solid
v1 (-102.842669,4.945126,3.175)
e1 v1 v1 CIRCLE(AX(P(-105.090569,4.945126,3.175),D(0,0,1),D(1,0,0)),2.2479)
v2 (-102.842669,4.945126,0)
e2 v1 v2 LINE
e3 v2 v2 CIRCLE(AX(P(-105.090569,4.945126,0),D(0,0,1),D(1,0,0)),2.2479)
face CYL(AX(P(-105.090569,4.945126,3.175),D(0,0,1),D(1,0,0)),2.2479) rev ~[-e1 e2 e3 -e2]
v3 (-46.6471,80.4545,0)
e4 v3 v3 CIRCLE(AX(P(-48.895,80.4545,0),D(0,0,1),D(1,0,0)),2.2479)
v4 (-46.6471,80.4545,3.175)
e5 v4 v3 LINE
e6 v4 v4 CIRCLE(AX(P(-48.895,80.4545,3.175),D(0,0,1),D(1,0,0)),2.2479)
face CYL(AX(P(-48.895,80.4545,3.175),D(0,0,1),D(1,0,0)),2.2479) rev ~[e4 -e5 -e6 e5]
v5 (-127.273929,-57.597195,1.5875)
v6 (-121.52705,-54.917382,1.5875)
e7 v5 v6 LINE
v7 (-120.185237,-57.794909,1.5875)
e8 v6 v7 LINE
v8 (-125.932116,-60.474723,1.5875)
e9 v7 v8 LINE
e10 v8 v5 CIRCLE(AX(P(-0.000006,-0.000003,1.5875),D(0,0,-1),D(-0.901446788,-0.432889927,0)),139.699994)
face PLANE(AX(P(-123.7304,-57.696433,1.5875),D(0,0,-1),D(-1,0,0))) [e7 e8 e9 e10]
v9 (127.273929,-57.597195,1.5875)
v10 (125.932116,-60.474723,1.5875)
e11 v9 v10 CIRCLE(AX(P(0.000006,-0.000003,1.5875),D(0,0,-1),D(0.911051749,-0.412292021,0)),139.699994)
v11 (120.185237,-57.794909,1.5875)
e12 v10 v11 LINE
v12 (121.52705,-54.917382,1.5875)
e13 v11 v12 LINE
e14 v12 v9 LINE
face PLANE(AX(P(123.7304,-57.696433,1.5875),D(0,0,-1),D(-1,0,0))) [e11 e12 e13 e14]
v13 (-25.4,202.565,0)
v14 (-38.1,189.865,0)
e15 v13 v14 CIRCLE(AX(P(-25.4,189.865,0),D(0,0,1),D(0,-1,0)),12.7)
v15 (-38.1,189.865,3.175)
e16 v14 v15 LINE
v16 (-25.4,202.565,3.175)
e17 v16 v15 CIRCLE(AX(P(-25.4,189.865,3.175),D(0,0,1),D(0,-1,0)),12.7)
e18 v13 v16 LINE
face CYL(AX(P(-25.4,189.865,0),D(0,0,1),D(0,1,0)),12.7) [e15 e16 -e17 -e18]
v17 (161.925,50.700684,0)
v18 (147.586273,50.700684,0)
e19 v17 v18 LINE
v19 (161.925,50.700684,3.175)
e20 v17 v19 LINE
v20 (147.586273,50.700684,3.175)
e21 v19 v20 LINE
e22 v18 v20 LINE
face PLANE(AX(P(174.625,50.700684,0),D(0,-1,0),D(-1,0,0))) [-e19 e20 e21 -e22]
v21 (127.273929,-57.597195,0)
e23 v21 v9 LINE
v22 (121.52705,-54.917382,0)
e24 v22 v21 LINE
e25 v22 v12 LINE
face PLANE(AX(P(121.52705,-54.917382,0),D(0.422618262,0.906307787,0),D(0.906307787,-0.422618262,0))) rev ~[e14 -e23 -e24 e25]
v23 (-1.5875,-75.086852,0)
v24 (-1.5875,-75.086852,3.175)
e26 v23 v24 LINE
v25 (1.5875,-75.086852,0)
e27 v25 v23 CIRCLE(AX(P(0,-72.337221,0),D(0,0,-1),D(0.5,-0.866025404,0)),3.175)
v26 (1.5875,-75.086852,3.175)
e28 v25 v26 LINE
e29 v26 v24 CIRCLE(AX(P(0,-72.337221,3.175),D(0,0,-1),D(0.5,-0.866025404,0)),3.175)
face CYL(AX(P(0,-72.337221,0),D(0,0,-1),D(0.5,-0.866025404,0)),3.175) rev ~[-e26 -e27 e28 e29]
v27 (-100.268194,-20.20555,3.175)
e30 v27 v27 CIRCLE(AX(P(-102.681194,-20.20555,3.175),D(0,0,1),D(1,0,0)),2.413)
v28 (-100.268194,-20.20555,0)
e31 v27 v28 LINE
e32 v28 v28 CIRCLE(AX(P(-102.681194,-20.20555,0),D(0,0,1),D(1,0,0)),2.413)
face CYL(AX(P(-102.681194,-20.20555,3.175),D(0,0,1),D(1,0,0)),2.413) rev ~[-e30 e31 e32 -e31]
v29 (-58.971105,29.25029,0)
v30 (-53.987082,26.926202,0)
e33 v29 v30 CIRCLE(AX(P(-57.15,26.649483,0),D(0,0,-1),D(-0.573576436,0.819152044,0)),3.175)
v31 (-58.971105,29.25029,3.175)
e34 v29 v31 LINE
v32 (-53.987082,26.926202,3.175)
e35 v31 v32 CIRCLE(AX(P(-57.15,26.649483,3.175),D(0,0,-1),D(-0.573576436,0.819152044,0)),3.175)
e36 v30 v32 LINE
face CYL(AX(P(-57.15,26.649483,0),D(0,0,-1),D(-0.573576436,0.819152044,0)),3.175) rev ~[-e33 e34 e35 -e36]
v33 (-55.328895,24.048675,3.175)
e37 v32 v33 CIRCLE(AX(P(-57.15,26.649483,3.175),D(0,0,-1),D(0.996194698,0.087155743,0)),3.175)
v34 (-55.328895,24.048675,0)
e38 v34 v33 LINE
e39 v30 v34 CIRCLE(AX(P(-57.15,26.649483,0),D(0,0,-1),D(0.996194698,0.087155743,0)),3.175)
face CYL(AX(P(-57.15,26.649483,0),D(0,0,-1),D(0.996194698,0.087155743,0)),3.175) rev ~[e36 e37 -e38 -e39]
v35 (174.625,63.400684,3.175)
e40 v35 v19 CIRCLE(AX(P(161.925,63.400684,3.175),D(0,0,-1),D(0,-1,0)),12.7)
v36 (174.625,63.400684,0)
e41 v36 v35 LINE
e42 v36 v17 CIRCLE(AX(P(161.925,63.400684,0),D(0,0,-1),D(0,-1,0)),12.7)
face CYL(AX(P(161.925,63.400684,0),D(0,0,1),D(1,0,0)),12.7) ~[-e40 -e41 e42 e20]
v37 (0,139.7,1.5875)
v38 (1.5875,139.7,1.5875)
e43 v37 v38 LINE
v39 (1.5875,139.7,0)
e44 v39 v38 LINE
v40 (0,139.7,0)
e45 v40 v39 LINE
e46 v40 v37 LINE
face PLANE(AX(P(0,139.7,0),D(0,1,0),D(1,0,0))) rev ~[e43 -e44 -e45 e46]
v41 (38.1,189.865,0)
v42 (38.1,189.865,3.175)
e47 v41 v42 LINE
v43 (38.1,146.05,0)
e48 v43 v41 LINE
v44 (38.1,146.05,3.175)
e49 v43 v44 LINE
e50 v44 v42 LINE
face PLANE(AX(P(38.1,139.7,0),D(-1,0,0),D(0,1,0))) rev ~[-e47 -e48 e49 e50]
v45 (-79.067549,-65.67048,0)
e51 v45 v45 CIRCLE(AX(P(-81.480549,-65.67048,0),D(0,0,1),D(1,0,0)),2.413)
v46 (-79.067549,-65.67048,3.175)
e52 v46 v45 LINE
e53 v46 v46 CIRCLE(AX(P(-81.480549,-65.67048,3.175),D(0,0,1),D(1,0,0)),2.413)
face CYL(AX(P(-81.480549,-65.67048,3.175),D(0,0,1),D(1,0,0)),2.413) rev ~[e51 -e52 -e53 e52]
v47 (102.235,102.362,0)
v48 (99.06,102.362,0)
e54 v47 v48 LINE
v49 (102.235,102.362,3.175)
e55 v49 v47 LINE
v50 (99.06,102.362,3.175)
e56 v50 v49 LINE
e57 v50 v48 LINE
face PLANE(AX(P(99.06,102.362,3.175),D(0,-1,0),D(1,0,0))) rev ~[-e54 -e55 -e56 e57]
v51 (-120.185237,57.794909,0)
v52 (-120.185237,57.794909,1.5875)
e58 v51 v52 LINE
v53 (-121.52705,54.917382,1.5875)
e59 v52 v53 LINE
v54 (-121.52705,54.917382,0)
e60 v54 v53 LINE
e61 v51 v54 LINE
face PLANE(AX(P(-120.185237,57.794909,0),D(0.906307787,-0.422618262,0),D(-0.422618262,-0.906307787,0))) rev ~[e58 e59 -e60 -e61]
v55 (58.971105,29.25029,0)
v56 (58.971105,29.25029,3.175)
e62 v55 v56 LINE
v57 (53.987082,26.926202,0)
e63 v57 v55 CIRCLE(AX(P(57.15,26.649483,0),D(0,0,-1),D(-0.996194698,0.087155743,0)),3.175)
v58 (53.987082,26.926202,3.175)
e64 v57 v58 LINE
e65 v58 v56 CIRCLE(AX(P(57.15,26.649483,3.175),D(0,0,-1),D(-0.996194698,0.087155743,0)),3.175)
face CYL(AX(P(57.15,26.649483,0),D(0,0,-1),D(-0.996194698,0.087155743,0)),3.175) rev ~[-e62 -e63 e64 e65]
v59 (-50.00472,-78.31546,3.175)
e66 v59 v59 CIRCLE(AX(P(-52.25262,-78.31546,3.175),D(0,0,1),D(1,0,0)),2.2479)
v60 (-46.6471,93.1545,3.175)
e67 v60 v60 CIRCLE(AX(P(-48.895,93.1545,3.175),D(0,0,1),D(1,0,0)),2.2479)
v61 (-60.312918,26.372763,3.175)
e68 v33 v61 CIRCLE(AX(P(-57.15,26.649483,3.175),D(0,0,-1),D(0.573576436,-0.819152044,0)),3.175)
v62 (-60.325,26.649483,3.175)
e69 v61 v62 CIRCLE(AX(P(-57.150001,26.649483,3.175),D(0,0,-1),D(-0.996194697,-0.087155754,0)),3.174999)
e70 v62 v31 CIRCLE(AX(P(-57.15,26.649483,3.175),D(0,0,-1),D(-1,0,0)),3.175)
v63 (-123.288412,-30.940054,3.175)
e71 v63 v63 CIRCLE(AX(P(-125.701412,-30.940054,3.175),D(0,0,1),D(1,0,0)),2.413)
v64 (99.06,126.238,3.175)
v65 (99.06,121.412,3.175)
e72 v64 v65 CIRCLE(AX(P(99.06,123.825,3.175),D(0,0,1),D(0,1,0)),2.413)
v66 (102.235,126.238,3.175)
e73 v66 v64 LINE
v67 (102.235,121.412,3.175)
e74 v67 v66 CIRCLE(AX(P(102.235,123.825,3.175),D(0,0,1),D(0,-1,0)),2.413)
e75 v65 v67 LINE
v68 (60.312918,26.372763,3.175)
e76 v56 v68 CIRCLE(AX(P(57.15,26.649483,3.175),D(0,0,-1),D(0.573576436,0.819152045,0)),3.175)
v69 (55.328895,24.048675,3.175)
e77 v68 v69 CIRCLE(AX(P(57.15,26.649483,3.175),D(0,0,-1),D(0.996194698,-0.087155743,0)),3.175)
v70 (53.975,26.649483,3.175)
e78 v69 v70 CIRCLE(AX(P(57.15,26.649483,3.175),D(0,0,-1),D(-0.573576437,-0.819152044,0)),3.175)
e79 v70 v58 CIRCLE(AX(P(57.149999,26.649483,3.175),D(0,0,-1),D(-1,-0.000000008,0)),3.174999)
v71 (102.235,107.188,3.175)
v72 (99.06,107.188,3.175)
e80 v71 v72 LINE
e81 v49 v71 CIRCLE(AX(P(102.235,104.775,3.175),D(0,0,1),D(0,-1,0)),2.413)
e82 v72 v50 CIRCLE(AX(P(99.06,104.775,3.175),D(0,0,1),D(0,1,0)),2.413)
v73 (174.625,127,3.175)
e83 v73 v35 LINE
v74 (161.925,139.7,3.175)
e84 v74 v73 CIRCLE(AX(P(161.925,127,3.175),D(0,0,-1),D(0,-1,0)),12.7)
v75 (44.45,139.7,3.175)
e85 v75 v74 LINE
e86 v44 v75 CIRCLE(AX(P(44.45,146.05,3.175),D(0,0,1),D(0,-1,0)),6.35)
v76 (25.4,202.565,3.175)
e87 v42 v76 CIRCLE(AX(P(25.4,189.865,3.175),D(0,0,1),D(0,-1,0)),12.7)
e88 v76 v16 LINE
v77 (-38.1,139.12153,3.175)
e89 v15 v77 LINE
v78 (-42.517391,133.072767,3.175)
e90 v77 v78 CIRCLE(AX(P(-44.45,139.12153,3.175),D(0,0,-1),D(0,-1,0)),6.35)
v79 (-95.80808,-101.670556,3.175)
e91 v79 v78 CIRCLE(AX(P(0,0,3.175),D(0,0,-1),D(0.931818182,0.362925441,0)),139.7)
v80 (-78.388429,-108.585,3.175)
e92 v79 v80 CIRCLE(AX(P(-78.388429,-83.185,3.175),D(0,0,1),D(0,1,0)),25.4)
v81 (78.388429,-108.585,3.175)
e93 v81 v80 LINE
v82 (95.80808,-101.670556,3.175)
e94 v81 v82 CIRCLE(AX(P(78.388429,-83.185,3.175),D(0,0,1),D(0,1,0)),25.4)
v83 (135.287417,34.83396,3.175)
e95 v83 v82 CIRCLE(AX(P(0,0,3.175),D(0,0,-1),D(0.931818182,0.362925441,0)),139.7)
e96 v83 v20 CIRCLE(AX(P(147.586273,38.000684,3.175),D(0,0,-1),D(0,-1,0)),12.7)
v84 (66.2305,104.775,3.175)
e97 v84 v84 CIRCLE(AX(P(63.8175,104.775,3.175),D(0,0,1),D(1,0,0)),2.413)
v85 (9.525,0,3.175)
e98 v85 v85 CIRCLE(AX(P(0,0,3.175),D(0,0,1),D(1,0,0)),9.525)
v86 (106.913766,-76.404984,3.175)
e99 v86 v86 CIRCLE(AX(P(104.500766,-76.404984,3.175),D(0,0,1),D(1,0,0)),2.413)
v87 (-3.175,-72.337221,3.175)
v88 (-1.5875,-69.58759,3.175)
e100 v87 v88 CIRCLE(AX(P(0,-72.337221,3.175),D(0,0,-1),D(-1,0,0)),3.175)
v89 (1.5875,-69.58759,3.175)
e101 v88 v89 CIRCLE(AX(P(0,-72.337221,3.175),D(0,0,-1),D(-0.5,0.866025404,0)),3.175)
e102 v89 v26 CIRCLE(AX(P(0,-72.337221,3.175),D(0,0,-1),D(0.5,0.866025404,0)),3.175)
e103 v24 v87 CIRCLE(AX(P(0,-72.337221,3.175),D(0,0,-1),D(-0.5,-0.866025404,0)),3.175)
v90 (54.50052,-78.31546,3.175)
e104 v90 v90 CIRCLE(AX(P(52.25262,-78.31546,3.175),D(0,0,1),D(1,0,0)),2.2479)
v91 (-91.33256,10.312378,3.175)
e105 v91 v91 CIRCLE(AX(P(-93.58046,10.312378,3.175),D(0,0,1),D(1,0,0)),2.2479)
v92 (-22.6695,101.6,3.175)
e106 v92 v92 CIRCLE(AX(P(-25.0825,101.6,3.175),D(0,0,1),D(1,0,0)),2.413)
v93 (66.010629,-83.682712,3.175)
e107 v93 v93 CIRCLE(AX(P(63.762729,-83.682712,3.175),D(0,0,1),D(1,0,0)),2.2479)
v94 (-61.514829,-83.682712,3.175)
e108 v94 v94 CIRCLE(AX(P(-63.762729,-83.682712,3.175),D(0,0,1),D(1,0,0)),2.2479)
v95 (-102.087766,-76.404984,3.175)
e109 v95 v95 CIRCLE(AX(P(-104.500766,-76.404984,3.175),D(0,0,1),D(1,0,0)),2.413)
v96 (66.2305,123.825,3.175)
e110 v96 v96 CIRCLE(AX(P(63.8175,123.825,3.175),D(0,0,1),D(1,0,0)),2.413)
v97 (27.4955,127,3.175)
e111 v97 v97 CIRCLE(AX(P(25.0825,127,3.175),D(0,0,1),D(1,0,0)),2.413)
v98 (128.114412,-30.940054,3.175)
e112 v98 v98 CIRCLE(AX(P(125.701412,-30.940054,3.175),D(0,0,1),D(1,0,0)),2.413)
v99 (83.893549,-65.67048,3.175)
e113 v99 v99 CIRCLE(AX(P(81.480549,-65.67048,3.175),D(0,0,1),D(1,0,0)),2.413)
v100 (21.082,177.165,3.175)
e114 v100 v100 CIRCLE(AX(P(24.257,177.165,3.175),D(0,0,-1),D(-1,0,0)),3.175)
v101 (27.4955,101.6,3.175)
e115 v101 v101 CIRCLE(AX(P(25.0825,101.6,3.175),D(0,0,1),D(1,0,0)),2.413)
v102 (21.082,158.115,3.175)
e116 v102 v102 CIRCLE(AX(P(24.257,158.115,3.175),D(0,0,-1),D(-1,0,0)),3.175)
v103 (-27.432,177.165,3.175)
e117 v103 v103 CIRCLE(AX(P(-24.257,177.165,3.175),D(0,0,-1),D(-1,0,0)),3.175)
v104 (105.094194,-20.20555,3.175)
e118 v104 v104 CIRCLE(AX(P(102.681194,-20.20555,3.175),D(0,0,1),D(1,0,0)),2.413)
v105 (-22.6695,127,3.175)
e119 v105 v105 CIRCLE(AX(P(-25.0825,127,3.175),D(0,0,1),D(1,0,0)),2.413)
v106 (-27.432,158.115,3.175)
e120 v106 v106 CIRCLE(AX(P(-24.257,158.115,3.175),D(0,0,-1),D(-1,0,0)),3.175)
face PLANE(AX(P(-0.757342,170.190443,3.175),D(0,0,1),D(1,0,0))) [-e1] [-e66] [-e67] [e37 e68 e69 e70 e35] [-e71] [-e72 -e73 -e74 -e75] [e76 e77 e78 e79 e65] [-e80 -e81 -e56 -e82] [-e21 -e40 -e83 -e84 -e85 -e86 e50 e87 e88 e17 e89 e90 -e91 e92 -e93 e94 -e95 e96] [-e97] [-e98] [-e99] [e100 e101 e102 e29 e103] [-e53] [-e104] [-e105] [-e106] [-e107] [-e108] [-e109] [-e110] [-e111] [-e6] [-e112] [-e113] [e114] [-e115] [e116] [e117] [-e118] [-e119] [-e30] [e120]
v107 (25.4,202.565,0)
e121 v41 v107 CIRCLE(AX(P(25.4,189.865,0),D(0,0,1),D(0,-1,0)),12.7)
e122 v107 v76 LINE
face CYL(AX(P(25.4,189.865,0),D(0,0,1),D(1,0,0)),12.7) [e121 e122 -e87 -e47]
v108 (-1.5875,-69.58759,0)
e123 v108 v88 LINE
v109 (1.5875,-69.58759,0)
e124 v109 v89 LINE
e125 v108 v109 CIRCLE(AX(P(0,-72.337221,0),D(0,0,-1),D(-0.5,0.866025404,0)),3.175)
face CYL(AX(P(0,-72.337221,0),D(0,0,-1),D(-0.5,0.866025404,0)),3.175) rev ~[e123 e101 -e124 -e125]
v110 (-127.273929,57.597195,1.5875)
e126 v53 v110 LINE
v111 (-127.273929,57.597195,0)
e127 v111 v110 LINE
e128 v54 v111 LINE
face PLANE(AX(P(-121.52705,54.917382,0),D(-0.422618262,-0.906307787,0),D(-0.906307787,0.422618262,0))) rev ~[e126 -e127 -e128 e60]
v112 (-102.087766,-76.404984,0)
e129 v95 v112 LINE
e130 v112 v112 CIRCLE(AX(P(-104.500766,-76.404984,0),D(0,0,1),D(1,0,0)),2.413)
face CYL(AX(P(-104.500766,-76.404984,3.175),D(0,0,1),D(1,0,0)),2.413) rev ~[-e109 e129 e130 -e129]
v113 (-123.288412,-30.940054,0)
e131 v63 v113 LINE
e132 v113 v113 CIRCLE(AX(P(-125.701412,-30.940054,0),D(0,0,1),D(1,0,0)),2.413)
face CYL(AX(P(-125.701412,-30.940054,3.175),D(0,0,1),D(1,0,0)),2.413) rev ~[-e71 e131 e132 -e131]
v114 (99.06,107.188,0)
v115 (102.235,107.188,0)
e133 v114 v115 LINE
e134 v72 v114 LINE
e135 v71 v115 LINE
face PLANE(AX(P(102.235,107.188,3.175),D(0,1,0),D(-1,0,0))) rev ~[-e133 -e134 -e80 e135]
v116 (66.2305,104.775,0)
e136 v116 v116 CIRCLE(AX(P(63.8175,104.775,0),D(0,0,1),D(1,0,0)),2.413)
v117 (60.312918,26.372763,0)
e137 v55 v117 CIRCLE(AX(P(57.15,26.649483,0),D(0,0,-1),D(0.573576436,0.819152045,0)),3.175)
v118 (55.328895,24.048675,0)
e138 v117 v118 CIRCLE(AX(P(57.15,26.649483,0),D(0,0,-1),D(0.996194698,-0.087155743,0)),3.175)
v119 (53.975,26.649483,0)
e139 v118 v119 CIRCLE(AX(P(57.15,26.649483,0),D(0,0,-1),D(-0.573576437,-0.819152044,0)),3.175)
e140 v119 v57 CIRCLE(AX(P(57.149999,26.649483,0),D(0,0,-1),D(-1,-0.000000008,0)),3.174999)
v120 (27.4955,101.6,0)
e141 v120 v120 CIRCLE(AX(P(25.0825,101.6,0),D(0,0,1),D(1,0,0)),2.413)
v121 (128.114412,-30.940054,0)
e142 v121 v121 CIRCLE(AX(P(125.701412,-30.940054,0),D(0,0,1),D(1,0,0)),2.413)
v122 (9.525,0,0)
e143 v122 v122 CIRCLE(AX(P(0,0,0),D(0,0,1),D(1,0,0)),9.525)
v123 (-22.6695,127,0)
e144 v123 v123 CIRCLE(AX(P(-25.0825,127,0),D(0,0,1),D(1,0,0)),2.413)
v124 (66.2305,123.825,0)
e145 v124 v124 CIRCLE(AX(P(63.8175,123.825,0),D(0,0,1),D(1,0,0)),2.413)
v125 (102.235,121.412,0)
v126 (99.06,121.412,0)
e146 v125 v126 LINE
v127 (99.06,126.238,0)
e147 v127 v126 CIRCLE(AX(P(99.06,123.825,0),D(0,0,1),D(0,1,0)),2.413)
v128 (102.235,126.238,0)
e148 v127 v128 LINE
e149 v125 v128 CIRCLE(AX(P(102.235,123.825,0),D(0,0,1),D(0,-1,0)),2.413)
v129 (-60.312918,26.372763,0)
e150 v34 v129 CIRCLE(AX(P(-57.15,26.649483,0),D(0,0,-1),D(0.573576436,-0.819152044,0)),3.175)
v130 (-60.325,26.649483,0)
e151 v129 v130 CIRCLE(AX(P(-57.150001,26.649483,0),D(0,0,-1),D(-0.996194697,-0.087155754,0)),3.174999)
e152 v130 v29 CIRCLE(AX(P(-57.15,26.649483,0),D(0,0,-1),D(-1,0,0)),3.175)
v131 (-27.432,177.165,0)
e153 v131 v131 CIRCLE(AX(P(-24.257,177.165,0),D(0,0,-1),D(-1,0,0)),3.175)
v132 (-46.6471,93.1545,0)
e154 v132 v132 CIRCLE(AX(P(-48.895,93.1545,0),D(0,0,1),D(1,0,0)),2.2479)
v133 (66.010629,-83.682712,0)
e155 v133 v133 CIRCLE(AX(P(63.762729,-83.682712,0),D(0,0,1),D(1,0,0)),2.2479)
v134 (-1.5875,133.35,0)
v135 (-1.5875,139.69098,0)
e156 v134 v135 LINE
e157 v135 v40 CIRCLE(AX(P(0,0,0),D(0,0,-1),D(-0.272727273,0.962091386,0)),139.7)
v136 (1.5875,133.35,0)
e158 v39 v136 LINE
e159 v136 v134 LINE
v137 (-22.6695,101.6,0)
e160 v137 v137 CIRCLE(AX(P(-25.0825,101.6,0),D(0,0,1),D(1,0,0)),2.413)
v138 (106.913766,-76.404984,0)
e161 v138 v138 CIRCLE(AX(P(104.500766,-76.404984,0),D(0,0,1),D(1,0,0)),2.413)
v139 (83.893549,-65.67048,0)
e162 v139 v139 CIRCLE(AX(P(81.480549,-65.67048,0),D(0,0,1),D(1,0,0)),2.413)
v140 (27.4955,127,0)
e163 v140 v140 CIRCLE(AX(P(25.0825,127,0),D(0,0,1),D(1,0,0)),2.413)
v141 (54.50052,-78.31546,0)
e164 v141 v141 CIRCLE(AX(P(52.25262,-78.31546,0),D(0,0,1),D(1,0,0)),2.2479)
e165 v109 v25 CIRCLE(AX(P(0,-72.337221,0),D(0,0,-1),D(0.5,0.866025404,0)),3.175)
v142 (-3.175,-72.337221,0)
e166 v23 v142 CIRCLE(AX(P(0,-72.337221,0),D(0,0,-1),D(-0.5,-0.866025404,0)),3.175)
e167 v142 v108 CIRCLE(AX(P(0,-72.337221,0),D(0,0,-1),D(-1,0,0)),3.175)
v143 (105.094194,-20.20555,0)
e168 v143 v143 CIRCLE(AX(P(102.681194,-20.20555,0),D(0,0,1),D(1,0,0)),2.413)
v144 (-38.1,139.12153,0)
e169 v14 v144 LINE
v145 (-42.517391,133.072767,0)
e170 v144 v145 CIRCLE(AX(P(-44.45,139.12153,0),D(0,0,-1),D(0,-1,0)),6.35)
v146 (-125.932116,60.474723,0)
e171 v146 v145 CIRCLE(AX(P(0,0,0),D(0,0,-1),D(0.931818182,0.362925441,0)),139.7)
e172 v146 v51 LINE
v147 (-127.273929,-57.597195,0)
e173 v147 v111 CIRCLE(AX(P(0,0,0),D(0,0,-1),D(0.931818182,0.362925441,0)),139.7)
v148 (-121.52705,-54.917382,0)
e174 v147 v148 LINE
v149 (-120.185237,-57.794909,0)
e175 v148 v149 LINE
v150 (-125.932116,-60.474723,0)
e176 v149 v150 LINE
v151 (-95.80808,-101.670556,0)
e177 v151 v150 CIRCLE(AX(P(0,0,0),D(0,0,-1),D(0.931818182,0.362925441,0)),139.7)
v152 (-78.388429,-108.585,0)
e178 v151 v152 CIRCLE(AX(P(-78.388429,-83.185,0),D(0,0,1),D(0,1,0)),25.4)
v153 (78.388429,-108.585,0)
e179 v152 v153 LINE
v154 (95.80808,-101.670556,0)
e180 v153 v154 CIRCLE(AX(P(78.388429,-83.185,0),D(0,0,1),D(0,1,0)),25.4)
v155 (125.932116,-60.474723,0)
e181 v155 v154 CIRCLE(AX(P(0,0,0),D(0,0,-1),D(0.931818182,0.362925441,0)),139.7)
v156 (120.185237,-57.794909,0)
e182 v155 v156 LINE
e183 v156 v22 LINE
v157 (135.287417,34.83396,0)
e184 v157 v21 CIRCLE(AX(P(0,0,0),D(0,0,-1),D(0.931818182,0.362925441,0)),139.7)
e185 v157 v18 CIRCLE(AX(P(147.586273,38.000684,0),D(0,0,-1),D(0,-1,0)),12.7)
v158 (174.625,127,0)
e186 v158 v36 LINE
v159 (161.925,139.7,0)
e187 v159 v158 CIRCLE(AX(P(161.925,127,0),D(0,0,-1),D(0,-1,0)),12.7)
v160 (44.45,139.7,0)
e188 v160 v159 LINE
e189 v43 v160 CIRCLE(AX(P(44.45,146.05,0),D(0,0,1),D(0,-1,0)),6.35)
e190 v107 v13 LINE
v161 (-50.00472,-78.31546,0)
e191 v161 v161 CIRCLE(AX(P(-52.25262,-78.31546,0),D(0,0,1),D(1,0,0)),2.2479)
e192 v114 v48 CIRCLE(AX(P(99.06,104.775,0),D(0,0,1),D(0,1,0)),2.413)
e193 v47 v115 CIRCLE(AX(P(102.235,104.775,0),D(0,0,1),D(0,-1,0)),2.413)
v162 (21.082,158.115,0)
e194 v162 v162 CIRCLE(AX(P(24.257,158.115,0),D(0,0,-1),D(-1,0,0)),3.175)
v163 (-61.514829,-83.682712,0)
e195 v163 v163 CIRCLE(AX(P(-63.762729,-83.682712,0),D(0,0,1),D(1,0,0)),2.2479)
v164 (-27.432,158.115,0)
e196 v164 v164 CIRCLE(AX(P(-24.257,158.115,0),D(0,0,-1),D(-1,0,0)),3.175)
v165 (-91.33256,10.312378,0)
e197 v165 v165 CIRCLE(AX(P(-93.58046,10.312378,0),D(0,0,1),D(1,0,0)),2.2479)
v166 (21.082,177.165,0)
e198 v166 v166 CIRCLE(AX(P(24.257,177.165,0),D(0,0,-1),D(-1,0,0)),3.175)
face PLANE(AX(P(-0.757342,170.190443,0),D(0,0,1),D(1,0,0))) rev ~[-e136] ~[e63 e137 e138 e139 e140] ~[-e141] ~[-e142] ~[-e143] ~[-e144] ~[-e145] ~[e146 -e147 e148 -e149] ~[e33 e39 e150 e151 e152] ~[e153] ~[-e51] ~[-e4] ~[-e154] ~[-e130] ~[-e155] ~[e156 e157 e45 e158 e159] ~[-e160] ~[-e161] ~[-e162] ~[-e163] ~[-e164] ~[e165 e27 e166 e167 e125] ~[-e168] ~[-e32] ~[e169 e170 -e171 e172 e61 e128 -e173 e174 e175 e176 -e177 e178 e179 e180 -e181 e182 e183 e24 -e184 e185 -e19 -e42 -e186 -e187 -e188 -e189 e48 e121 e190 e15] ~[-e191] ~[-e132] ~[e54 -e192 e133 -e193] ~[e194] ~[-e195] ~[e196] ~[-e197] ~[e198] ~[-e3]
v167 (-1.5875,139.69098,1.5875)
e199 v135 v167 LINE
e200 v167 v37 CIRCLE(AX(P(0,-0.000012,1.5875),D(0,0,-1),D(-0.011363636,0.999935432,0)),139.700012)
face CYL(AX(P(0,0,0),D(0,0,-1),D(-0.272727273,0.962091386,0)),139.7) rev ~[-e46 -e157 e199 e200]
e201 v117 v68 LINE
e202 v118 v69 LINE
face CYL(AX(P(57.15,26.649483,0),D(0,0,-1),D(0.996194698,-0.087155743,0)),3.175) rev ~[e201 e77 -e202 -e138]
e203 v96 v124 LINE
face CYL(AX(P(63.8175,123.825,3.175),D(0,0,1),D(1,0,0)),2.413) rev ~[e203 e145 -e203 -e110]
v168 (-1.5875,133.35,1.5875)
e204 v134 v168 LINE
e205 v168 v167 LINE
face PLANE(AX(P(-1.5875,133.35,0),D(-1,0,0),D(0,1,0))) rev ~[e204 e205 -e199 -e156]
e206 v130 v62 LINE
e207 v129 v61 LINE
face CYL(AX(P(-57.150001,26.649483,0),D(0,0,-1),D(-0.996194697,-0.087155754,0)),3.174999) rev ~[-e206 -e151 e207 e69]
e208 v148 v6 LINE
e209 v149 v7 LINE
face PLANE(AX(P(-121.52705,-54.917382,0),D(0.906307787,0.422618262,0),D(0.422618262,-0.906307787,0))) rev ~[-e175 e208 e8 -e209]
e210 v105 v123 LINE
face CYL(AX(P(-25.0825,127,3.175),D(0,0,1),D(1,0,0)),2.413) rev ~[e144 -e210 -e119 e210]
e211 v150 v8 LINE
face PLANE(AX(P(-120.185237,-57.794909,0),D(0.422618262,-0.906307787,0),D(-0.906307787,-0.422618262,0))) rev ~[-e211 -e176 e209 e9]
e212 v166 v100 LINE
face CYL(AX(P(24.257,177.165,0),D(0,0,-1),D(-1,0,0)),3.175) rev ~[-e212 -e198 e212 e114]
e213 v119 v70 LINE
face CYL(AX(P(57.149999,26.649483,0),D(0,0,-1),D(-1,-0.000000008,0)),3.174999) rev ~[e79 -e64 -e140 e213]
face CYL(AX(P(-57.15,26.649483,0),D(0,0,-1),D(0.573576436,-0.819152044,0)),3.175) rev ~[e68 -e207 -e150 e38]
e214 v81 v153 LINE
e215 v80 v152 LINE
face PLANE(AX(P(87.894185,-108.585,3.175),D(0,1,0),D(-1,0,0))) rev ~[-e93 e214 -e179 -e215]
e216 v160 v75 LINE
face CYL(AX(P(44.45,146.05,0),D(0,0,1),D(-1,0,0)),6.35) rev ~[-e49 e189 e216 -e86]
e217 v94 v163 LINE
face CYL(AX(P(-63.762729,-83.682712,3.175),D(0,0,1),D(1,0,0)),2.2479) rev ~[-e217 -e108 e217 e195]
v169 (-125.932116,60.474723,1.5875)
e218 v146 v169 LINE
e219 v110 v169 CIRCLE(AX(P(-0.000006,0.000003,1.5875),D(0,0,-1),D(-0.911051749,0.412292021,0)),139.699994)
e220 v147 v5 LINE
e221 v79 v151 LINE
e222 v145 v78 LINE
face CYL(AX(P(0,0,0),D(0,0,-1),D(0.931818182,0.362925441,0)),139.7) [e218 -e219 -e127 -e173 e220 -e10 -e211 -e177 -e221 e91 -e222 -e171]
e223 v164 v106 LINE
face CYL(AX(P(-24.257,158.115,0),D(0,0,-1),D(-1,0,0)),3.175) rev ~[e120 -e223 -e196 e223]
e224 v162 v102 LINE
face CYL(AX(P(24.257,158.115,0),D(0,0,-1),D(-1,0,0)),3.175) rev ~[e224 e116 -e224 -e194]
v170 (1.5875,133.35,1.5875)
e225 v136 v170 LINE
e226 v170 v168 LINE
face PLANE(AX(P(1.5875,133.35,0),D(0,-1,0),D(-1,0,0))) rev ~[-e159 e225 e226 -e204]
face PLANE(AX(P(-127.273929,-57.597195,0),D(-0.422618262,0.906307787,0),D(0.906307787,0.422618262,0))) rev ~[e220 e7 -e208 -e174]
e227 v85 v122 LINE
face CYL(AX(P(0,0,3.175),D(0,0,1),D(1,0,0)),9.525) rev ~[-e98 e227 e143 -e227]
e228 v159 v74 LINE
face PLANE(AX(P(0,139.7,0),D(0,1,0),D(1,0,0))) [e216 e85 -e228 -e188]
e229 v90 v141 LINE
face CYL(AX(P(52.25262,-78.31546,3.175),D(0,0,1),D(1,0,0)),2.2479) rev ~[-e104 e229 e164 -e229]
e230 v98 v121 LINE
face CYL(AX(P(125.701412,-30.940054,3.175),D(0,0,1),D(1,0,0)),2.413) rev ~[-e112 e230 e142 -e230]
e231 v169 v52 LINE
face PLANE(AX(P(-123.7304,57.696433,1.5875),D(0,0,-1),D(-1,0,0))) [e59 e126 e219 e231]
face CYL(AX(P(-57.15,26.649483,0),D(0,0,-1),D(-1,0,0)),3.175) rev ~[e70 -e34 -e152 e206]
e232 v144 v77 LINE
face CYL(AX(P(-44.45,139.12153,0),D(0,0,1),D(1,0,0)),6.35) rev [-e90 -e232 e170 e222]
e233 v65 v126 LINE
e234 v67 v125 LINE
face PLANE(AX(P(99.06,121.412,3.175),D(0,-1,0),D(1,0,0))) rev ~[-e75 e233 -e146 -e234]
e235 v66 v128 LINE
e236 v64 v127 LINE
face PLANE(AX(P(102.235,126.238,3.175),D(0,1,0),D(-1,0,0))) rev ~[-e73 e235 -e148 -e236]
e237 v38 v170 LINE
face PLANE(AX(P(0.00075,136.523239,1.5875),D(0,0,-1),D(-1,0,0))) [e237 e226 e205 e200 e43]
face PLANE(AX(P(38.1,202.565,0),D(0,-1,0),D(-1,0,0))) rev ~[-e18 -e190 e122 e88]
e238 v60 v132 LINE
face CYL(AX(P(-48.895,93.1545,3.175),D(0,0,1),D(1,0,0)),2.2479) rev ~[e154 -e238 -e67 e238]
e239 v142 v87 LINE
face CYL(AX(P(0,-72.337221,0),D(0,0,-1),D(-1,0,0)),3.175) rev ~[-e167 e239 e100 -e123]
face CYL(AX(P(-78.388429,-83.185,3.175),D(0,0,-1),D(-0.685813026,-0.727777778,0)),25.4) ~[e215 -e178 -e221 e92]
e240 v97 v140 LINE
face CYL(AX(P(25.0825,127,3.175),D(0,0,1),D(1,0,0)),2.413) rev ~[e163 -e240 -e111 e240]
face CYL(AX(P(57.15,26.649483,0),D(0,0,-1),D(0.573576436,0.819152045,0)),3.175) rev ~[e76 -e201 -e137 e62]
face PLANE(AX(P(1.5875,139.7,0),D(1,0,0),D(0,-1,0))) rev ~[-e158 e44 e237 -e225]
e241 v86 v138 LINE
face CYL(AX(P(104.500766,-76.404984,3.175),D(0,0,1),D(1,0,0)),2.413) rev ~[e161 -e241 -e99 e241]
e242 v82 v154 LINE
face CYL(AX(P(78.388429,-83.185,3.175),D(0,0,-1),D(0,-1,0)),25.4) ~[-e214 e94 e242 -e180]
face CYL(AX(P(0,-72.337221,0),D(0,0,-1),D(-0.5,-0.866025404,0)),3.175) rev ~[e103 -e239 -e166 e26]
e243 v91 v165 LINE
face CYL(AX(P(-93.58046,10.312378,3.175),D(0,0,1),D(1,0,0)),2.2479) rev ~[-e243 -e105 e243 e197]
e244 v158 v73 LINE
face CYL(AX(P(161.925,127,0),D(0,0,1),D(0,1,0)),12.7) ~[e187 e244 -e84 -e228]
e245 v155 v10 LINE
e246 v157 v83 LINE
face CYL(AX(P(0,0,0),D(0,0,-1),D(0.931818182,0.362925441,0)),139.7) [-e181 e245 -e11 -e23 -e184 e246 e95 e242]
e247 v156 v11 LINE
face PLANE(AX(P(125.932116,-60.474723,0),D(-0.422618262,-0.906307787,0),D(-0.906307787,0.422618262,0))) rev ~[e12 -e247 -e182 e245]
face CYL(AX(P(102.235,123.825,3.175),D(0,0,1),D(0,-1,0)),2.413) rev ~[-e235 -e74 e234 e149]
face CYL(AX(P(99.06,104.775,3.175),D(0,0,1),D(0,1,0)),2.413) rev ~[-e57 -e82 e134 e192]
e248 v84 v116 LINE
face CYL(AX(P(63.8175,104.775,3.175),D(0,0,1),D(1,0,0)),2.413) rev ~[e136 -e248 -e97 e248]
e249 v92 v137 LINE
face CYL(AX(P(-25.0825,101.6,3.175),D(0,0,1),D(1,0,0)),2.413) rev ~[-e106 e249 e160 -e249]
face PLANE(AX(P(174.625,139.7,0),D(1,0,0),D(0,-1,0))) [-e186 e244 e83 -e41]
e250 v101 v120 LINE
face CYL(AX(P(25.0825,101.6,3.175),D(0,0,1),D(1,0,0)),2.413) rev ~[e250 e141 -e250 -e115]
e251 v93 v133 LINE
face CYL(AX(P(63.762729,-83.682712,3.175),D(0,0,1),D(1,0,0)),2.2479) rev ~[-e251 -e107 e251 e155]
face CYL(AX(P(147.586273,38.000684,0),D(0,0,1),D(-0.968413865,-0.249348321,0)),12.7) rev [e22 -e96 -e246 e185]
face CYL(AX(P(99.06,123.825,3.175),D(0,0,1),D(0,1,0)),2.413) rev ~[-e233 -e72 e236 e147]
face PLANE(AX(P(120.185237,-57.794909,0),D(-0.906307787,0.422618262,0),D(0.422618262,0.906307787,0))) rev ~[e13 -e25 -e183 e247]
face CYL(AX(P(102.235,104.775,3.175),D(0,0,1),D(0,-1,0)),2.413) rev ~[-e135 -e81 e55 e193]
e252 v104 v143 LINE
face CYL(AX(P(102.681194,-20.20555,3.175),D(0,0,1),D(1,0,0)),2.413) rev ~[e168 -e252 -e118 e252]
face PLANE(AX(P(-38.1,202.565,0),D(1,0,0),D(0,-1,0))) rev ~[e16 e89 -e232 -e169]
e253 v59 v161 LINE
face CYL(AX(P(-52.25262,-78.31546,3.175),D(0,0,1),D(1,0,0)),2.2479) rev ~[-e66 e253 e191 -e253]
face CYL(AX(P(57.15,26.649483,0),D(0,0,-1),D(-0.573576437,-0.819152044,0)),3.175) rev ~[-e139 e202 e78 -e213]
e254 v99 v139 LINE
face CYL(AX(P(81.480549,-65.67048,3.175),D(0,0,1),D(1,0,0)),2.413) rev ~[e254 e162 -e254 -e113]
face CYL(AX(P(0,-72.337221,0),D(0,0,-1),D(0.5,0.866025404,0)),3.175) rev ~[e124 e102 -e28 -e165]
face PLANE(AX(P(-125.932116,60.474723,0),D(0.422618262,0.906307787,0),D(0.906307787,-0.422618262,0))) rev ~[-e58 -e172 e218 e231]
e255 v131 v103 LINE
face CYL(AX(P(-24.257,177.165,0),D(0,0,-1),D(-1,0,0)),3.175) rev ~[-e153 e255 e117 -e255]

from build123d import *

# Parameters (mm, degrees)
BOSS_EXTRUDE1_DEPTH = 3.175
CUT_EXTRUDE3_DEPTH  = 1.5875
SKETCH3_R           = 9.525
CUT_EXTRUDE4_DEPTH  = 4.175
CUT_EXTRUDE5_DEPTH  = 4.175
SKETCH8_R           = 2.413
CUT_EXTRUDE7_DEPTH  = 4.175
SKETCH9_R           = 2.413
CUT_EXTRUDE8_DEPTH  = 4.175
FILLET1_R           = 12.7
CUT_EXTRUDE9_DEPTH  = 4.175
FILLET2_R           = 25.4
SKETCH11_R          = 2.2479
CUT_EXTRUDE10_DEPTH = 4.175
SKETCH14_R          = 3.175
BOSS_EXTRUDE2_DEPTH = 3.175
FILLET3_R           = 12.7
FILLET4_R           = 6.35


with BuildPart() as part:
    # Sketch1 → Boss-Extrude1 (new body)
    with BuildSketch(Plane.XY):
        with BuildLine():
            Line((0, 139.7), (139.7, 139.7))
            Line((139.7, 139.7), (174.625, 139.7))
            Line((174.625, 139.7), (174.625, 50.700684167))
            Line((174.625, 50.700684167), (130.175, 50.700684167))
            ThreePointArc((130.175, 50.700684167), (-78.845432404, -115.323405209), (0, 139.7))
        make_face()
    extrude(amount=BOSS_EXTRUDE1_DEPTH)

    # Sketch2 → Cut-Extrude3 (cut)
    with BuildSketch(Plane(origin=(0, 0, 0), x_dir=(-1, 0, 0), z_dir=(0, 0, -1))):
        Polygon((-1.5875, -1.011349039), (-1.5875, -2.491875854), (0, -1.751612446), align=None)
        Polygon((-1.5875, -1.011349039), (0, -1.751612446), (1.5875, -1.011349039), (1.5875, 1.011349039), (0, 1.751612446), (-1.5875, 1.011349039), align=None)
        Polygon((1.5875, -1.011349039), (0, -1.751612446), (1.5875, -2.491875854), align=None)
        Polygon((-3.756345013, 0), (-1.5875, -1.011349039), (-1.5875, 1.011349039), align=None)
        Polygon((-1.5875, 2.491875854), (-1.5875, 1.011349039), (0, 1.751612446), align=None)
        Polygon((0, 1.751612446), (1.5875, 1.011349039), (1.5875, 2.491875854), align=None)
        Polygon((1.5875, 1.011349039), (1.5875, -1.011349039), (3.756345013, 0), align=None)
        with BuildLine():
            ThreePointArc((-127.273929282, -57.597195461), (-126.611197849, -59.039771165), (-125.932116301, -60.474722685))
            Line((-125.932116301, -60.474722685), (-120.185236911, -57.794908815))
            Line((-120.185236911, -57.794908815), (-121.527049892, -54.917381591))
            Line((-121.527049892, -54.917381591), (-127.273929282, -57.597195461))
        make_face()
        with BuildLine():
            Line((121.527049892, 54.917381591), (127.273929282, 57.597195461))
            ThreePointArc((127.273929282, 57.597195461), (126.611197849, 59.039771165), (125.932116301, 60.474722685))
            Line((125.932116301, 60.474722685), (120.185236911, 57.794908815))
            Line((120.185236911, 57.794908815), (121.527049892, 54.917381591))
        make_face()
        with BuildLine():
            Line((120.185236911, -57.794908815), (125.932116301, -60.474722685))
            ThreePointArc((125.932116301, -60.474722685), (126.611197849, -59.039771165), (127.273929282, -57.597195461))
            Line((127.273929282, -57.597195461), (121.527049892, -54.917381591))
            Line((121.527049892, -54.917381591), (120.185236911, -57.794908815))
        make_face()
        with BuildLine():
            Line((0, 139.7), (-1.5875, 139.7))
            Line((-1.5875, 139.7), (-1.5875, 133.35))
            Line((-1.5875, 133.35), (1.5875, 133.35))
            Line((1.5875, 133.35), (1.5875, 139.690979822))
            ThreePointArc((1.5875, 139.690979822), (0.793762813, 139.697744937), (0, 139.7))
        make_face()
    extrude(amount=-CUT_EXTRUDE3_DEPTH, mode=Mode.SUBTRACT)

    # Sketch3 → Cut-Extrude4 (cut, through all)
    with BuildSketch(Plane.XY.offset(3.175)):
        Circle(SKETCH3_R)
    extrude(amount=-CUT_EXTRUDE4_DEPTH, mode=Mode.SUBTRACT)

    # Sketch2<4> → Cut-Extrude5 (cut, through all)
    with BuildSketch(Plane(origin=(0, 0, 0), x_dir=(-1, 0, 0), z_dir=(0, 0, -1))):
        with BuildLine():
            Line((-60.312918166, 26.37276318), (-55.328894815, 24.048674923))
            ThreePointArc((-55.328894815, 24.048674923), (-54.333740605, 25.183430817), (-53.975, 26.649482664))
            ThreePointArc((-53.975, 26.649482664), (-53.978021896, 26.787974218), (-53.987081834, 26.926202147))
            Line((-53.987081834, 26.926202147), (-58.971105185, 29.250290404))
            ThreePointArc((-58.971105185, 29.250290404), (-60.027527224, 27.991295645), (-60.312918166, 26.37276318))
        make_face()
        with BuildLine():
            ThreePointArc((-60.312918166, 26.37276318), (-58.491812981, 23.77195544), (-55.328894815, 24.048674923))
            Line((-55.328894815, 24.048674923), (-60.312918166, 26.37276318))
        make_face()
        with BuildLine():
            Line((-58.971105185, 29.250290404), (-53.987081834, 26.926202147))
            ThreePointArc((-53.987081834, 26.926202147), (-55.808187019, 29.527009887), (-58.971105185, 29.250290404))
        make_face()
        with BuildLine():
            ThreePointArc((53.987081834, 26.926202147), (54.272472776, 25.307669683), (55.328894815, 24.048674923))
            Line((55.328894815, 24.048674923), (60.312918166, 26.37276318))
            ThreePointArc((60.312918166, 26.37276318), (60.321978104, 26.510991109), (60.325, 26.649482664))
            ThreePointArc((60.325, 26.649482664), (59.966259395, 28.115534511), (58.971105185, 29.250290404))
            Line((58.971105185, 29.250290404), (53.987081834, 26.926202147))
        make_face()
        with BuildLine():
            ThreePointArc((58.971105185, 29.250290404), (55.808187019, 29.527009887), (53.987081834, 26.926202147))
            Line((53.987081834, 26.926202147), (58.971105185, 29.250290404))
        make_face()
        with BuildLine():
            Line((60.312918166, 26.37276318), (55.328894815, 24.048674923))
            ThreePointArc((55.328894815, 24.048674923), (58.491812981, 23.77195544), (60.312918166, 26.37276318))
        make_face()
        with BuildLine():
            ThreePointArc((-1.5875, -69.587590332), (-3.175, -72.337220989), (-1.5875, -75.086851646))
            Line((-1.5875, -75.086851646), (-1.5875, -69.587590332))
        make_face()
        with BuildLine():
            Line((-1.5875, -69.587590332), (-1.5875, -75.086851646))
            ThreePointArc((-1.5875, -75.086851646), (0, -75.512220989), (1.5875, -75.086851646))
            Line((1.5875, -75.086851646), (1.5875, -69.587590332))
            ThreePointArc((1.5875, -69.587590332), (0, -69.162220989), (-1.5875, -69.587590332))
        make_face()
        with BuildLine():
            Line((1.5875, -69.587590332), (1.5875, -75.086851646))
            ThreePointArc((1.5875, -75.086851646), (2.749630657, -73.924720989), (3.175, -72.337220989))
            ThreePointArc((3.175, -72.337220989), (2.749630657, -70.749720989), (1.5875, -69.587590332))
        make_face()
    extrude(amount=-CUT_EXTRUDE5_DEPTH, mode=Mode.SUBTRACT)

    # Sketch8 → Cut-Extrude7 (cut, through all)
    with BuildSketch(Plane.XY.offset(3.175)):
        with Locations((25.0825, 101.6)):
            Circle(SKETCH8_R)
        with Locations((-25.0825, 101.6)):
            Circle(SKETCH8_R)
        with Locations((-25.0825, 127)):
            Circle(SKETCH8_R)
        with Locations((25.0825, 127)):
            Circle(SKETCH8_R)
        with Locations((102.681193713, -20.205550325)):
            Circle(SKETCH8_R)
        with Locations((125.701411504, -30.940054173)):
            Circle(SKETCH8_R)
        with Locations((81.480548613, -65.670480461)):
            Circle(SKETCH8_R)
        with Locations((104.500766404, -76.404984309)):
            Circle(SKETCH8_R)
        with Locations((-81.480548613, -65.670480461)):
            Circle(SKETCH8_R)
        with Locations((-104.500766404, -76.404984309)):
            Circle(SKETCH8_R)
        with Locations((-102.681193713, -20.205550325)):
            Circle(SKETCH8_R)
        with Locations((-125.701411504, -30.940054173)):
            Circle(SKETCH8_R)
    extrude(amount=-CUT_EXTRUDE7_DEPTH, mode=Mode.SUBTRACT)

    # Sketch9 → Cut-Extrude8 (cut, through all)
    with BuildSketch(Plane.XY.offset(3.175)):
        with Locations((100.6475, 123.825)):
            Circle(SKETCH9_R)
        with Locations((63.8175, 123.825)):
            Circle(SKETCH9_R)
        with Locations((63.8175, 104.775)):
            Circle(SKETCH9_R)
        with Locations((100.6475, 104.775)):
            Circle(SKETCH9_R)
        with BuildLine():
            Line((99.06, 121.412), (100.6475, 121.412))
            ThreePointArc((100.6475, 121.412), (98.2345, 123.825000011), (100.647500021, 126.238))
            Line((100.647500021, 126.238), (99.06, 126.238))
            ThreePointArc((99.06, 126.238), (96.647, 123.825), (99.06, 121.412))
        make_face()
        with BuildLine():
            Line((100.6475, 121.412), (102.235, 121.412))
            ThreePointArc((102.235, 121.412), (104.648, 123.825), (102.235, 126.238))
            Line((102.235, 126.238), (100.647500021, 126.238))
            ThreePointArc((100.647500021, 126.238), (102.353748671, 125.531248656), (103.0605, 123.825))
            ThreePointArc((103.0605, 123.825), (102.353748663, 122.118751337), (100.6475, 121.412))
        make_face()
        with BuildLine():
            ThreePointArc((100.647500034, 102.362), (98.2345, 104.774999983), (100.6475, 107.188))
            Line((100.6475, 107.188), (99.06, 107.188))
            ThreePointArc((99.06, 107.188), (96.647, 104.775), (99.06, 102.362))
            Line((99.06, 102.362), (100.647500034, 102.362))
        make_face()
        with BuildLine():
            ThreePointArc((102.235, 102.362), (104.648, 104.775), (102.235, 107.188))
            Line((102.235, 107.188), (100.6475, 107.188))
            ThreePointArc((100.6475, 107.188), (102.353748663, 106.481248663), (103.0605, 104.775))
            ThreePointArc((103.0605, 104.775), (102.353748675, 103.068751349), (100.647500034, 102.362))
            Line((100.647500034, 102.362), (102.235, 102.362))
        make_face()
    extrude(amount=-CUT_EXTRUDE8_DEPTH, mode=Mode.SUBTRACT)

    # Fillet1
    fillet1_edges = [part.edges().sort_by_distance(p)[0] for p in [
        (174.625, 139.7, 1.5875),
        (174.625, 50.700684167, 1.5875),
        (130.175, 50.700684167, 1.5875),
    ]]
    fillet(fillet1_edges, radius=FILLET1_R)

    # Sketch10 → Cut-Extrude9 (cut, through all)
    with BuildSketch(Plane.XY.offset(3.175)):
        with BuildLine():
            Line((87.894185103, -108.585), (-87.894185103, -108.585))
            ThreePointArc((-87.894185103, -108.585), (0, -139.7), (87.894185103, -108.585))
        make_face()
    extrude(amount=-CUT_EXTRUDE9_DEPTH, mode=Mode.SUBTRACT)

    # Fillet2
    fillet2_edges = [part.edges().sort_by_distance(p)[0] for p in [
        (-87.894185103, -108.585, 1.5875),
        (87.894185103, -108.585, 1.5875),
    ]]
    fillet(fillet2_edges, radius=FILLET2_R)

    # Sketch11 → Cut-Extrude10 (cut, through all)
    with BuildSketch(Plane.XY.offset(3.175)):
        with Locations((-93.58045976, 10.312378308)):
            Circle(SKETCH11_R)
        with Locations((-105.090568655, 4.945126384)):
            Circle(SKETCH11_R)
        with Locations((-52.252619944, -78.315460186)):
            Circle(SKETCH11_R)
        with Locations((-63.762728839, -83.682712111)):
            Circle(SKETCH11_R)
        with Locations((52.252619944, -78.315460186)):
            Circle(SKETCH11_R)
        with Locations((63.76272884, -83.68271211)):
            Circle(SKETCH11_R)
        with Locations((-48.895, 93.1545)):
            Circle(SKETCH11_R)
        with Locations((-48.895, 80.4545)):
            Circle(SKETCH11_R)
    extrude(amount=-CUT_EXTRUDE10_DEPTH, mode=Mode.SUBTRACT)

    # Sketch14 → Boss-Extrude2 (add)
    with BuildSketch(Plane(origin=(0, 0, 0), x_dir=(-1, 0, 0), z_dir=(0, 0, -1))):
        with BuildLine():
            Line((-38.1, 139.7), (-38.1, 202.565))
            Line((-38.1, 202.565), (38.1, 202.565))
            Line((38.1, 202.565), (38.1, 134.404166602))
            ThreePointArc((38.1, 134.404166602), (19.233147502, 138.369707802), (0, 139.7))
            Line((0, 139.7), (-38.1, 139.7))
        make_face()
        with Locations((-24.257, 177.165)):
            Circle(SKETCH14_R, mode=Mode.SUBTRACT)
        with Locations((24.257, 177.165)):
            Circle(SKETCH14_R, mode=Mode.SUBTRACT)
        with Locations((24.257, 158.115)):
            Circle(SKETCH14_R, mode=Mode.SUBTRACT)
        with Locations((-24.257, 158.115)):
            Circle(SKETCH14_R, mode=Mode.SUBTRACT)
    extrude(amount=-BOSS_EXTRUDE2_DEPTH)

    # Fillet3
    fillet3_edges = [part.edges().sort_by_distance(p)[0] for p in [
        (38.1, 202.565, 1.5875),
        (-38.1, 202.565, 1.5875),
    ]]
    fillet(fillet3_edges, radius=FILLET3_R)

    # Fillet4
    fillet4_edges = [part.edges().sort_by_distance(p)[0] for p in [
        (-38.1, 134.404166602, 1.5875),
        (38.1, 139.7, 1.5875),
    ]]
    fillet(fillet4_edges, radius=FILLET4_R)


solid = part.part
